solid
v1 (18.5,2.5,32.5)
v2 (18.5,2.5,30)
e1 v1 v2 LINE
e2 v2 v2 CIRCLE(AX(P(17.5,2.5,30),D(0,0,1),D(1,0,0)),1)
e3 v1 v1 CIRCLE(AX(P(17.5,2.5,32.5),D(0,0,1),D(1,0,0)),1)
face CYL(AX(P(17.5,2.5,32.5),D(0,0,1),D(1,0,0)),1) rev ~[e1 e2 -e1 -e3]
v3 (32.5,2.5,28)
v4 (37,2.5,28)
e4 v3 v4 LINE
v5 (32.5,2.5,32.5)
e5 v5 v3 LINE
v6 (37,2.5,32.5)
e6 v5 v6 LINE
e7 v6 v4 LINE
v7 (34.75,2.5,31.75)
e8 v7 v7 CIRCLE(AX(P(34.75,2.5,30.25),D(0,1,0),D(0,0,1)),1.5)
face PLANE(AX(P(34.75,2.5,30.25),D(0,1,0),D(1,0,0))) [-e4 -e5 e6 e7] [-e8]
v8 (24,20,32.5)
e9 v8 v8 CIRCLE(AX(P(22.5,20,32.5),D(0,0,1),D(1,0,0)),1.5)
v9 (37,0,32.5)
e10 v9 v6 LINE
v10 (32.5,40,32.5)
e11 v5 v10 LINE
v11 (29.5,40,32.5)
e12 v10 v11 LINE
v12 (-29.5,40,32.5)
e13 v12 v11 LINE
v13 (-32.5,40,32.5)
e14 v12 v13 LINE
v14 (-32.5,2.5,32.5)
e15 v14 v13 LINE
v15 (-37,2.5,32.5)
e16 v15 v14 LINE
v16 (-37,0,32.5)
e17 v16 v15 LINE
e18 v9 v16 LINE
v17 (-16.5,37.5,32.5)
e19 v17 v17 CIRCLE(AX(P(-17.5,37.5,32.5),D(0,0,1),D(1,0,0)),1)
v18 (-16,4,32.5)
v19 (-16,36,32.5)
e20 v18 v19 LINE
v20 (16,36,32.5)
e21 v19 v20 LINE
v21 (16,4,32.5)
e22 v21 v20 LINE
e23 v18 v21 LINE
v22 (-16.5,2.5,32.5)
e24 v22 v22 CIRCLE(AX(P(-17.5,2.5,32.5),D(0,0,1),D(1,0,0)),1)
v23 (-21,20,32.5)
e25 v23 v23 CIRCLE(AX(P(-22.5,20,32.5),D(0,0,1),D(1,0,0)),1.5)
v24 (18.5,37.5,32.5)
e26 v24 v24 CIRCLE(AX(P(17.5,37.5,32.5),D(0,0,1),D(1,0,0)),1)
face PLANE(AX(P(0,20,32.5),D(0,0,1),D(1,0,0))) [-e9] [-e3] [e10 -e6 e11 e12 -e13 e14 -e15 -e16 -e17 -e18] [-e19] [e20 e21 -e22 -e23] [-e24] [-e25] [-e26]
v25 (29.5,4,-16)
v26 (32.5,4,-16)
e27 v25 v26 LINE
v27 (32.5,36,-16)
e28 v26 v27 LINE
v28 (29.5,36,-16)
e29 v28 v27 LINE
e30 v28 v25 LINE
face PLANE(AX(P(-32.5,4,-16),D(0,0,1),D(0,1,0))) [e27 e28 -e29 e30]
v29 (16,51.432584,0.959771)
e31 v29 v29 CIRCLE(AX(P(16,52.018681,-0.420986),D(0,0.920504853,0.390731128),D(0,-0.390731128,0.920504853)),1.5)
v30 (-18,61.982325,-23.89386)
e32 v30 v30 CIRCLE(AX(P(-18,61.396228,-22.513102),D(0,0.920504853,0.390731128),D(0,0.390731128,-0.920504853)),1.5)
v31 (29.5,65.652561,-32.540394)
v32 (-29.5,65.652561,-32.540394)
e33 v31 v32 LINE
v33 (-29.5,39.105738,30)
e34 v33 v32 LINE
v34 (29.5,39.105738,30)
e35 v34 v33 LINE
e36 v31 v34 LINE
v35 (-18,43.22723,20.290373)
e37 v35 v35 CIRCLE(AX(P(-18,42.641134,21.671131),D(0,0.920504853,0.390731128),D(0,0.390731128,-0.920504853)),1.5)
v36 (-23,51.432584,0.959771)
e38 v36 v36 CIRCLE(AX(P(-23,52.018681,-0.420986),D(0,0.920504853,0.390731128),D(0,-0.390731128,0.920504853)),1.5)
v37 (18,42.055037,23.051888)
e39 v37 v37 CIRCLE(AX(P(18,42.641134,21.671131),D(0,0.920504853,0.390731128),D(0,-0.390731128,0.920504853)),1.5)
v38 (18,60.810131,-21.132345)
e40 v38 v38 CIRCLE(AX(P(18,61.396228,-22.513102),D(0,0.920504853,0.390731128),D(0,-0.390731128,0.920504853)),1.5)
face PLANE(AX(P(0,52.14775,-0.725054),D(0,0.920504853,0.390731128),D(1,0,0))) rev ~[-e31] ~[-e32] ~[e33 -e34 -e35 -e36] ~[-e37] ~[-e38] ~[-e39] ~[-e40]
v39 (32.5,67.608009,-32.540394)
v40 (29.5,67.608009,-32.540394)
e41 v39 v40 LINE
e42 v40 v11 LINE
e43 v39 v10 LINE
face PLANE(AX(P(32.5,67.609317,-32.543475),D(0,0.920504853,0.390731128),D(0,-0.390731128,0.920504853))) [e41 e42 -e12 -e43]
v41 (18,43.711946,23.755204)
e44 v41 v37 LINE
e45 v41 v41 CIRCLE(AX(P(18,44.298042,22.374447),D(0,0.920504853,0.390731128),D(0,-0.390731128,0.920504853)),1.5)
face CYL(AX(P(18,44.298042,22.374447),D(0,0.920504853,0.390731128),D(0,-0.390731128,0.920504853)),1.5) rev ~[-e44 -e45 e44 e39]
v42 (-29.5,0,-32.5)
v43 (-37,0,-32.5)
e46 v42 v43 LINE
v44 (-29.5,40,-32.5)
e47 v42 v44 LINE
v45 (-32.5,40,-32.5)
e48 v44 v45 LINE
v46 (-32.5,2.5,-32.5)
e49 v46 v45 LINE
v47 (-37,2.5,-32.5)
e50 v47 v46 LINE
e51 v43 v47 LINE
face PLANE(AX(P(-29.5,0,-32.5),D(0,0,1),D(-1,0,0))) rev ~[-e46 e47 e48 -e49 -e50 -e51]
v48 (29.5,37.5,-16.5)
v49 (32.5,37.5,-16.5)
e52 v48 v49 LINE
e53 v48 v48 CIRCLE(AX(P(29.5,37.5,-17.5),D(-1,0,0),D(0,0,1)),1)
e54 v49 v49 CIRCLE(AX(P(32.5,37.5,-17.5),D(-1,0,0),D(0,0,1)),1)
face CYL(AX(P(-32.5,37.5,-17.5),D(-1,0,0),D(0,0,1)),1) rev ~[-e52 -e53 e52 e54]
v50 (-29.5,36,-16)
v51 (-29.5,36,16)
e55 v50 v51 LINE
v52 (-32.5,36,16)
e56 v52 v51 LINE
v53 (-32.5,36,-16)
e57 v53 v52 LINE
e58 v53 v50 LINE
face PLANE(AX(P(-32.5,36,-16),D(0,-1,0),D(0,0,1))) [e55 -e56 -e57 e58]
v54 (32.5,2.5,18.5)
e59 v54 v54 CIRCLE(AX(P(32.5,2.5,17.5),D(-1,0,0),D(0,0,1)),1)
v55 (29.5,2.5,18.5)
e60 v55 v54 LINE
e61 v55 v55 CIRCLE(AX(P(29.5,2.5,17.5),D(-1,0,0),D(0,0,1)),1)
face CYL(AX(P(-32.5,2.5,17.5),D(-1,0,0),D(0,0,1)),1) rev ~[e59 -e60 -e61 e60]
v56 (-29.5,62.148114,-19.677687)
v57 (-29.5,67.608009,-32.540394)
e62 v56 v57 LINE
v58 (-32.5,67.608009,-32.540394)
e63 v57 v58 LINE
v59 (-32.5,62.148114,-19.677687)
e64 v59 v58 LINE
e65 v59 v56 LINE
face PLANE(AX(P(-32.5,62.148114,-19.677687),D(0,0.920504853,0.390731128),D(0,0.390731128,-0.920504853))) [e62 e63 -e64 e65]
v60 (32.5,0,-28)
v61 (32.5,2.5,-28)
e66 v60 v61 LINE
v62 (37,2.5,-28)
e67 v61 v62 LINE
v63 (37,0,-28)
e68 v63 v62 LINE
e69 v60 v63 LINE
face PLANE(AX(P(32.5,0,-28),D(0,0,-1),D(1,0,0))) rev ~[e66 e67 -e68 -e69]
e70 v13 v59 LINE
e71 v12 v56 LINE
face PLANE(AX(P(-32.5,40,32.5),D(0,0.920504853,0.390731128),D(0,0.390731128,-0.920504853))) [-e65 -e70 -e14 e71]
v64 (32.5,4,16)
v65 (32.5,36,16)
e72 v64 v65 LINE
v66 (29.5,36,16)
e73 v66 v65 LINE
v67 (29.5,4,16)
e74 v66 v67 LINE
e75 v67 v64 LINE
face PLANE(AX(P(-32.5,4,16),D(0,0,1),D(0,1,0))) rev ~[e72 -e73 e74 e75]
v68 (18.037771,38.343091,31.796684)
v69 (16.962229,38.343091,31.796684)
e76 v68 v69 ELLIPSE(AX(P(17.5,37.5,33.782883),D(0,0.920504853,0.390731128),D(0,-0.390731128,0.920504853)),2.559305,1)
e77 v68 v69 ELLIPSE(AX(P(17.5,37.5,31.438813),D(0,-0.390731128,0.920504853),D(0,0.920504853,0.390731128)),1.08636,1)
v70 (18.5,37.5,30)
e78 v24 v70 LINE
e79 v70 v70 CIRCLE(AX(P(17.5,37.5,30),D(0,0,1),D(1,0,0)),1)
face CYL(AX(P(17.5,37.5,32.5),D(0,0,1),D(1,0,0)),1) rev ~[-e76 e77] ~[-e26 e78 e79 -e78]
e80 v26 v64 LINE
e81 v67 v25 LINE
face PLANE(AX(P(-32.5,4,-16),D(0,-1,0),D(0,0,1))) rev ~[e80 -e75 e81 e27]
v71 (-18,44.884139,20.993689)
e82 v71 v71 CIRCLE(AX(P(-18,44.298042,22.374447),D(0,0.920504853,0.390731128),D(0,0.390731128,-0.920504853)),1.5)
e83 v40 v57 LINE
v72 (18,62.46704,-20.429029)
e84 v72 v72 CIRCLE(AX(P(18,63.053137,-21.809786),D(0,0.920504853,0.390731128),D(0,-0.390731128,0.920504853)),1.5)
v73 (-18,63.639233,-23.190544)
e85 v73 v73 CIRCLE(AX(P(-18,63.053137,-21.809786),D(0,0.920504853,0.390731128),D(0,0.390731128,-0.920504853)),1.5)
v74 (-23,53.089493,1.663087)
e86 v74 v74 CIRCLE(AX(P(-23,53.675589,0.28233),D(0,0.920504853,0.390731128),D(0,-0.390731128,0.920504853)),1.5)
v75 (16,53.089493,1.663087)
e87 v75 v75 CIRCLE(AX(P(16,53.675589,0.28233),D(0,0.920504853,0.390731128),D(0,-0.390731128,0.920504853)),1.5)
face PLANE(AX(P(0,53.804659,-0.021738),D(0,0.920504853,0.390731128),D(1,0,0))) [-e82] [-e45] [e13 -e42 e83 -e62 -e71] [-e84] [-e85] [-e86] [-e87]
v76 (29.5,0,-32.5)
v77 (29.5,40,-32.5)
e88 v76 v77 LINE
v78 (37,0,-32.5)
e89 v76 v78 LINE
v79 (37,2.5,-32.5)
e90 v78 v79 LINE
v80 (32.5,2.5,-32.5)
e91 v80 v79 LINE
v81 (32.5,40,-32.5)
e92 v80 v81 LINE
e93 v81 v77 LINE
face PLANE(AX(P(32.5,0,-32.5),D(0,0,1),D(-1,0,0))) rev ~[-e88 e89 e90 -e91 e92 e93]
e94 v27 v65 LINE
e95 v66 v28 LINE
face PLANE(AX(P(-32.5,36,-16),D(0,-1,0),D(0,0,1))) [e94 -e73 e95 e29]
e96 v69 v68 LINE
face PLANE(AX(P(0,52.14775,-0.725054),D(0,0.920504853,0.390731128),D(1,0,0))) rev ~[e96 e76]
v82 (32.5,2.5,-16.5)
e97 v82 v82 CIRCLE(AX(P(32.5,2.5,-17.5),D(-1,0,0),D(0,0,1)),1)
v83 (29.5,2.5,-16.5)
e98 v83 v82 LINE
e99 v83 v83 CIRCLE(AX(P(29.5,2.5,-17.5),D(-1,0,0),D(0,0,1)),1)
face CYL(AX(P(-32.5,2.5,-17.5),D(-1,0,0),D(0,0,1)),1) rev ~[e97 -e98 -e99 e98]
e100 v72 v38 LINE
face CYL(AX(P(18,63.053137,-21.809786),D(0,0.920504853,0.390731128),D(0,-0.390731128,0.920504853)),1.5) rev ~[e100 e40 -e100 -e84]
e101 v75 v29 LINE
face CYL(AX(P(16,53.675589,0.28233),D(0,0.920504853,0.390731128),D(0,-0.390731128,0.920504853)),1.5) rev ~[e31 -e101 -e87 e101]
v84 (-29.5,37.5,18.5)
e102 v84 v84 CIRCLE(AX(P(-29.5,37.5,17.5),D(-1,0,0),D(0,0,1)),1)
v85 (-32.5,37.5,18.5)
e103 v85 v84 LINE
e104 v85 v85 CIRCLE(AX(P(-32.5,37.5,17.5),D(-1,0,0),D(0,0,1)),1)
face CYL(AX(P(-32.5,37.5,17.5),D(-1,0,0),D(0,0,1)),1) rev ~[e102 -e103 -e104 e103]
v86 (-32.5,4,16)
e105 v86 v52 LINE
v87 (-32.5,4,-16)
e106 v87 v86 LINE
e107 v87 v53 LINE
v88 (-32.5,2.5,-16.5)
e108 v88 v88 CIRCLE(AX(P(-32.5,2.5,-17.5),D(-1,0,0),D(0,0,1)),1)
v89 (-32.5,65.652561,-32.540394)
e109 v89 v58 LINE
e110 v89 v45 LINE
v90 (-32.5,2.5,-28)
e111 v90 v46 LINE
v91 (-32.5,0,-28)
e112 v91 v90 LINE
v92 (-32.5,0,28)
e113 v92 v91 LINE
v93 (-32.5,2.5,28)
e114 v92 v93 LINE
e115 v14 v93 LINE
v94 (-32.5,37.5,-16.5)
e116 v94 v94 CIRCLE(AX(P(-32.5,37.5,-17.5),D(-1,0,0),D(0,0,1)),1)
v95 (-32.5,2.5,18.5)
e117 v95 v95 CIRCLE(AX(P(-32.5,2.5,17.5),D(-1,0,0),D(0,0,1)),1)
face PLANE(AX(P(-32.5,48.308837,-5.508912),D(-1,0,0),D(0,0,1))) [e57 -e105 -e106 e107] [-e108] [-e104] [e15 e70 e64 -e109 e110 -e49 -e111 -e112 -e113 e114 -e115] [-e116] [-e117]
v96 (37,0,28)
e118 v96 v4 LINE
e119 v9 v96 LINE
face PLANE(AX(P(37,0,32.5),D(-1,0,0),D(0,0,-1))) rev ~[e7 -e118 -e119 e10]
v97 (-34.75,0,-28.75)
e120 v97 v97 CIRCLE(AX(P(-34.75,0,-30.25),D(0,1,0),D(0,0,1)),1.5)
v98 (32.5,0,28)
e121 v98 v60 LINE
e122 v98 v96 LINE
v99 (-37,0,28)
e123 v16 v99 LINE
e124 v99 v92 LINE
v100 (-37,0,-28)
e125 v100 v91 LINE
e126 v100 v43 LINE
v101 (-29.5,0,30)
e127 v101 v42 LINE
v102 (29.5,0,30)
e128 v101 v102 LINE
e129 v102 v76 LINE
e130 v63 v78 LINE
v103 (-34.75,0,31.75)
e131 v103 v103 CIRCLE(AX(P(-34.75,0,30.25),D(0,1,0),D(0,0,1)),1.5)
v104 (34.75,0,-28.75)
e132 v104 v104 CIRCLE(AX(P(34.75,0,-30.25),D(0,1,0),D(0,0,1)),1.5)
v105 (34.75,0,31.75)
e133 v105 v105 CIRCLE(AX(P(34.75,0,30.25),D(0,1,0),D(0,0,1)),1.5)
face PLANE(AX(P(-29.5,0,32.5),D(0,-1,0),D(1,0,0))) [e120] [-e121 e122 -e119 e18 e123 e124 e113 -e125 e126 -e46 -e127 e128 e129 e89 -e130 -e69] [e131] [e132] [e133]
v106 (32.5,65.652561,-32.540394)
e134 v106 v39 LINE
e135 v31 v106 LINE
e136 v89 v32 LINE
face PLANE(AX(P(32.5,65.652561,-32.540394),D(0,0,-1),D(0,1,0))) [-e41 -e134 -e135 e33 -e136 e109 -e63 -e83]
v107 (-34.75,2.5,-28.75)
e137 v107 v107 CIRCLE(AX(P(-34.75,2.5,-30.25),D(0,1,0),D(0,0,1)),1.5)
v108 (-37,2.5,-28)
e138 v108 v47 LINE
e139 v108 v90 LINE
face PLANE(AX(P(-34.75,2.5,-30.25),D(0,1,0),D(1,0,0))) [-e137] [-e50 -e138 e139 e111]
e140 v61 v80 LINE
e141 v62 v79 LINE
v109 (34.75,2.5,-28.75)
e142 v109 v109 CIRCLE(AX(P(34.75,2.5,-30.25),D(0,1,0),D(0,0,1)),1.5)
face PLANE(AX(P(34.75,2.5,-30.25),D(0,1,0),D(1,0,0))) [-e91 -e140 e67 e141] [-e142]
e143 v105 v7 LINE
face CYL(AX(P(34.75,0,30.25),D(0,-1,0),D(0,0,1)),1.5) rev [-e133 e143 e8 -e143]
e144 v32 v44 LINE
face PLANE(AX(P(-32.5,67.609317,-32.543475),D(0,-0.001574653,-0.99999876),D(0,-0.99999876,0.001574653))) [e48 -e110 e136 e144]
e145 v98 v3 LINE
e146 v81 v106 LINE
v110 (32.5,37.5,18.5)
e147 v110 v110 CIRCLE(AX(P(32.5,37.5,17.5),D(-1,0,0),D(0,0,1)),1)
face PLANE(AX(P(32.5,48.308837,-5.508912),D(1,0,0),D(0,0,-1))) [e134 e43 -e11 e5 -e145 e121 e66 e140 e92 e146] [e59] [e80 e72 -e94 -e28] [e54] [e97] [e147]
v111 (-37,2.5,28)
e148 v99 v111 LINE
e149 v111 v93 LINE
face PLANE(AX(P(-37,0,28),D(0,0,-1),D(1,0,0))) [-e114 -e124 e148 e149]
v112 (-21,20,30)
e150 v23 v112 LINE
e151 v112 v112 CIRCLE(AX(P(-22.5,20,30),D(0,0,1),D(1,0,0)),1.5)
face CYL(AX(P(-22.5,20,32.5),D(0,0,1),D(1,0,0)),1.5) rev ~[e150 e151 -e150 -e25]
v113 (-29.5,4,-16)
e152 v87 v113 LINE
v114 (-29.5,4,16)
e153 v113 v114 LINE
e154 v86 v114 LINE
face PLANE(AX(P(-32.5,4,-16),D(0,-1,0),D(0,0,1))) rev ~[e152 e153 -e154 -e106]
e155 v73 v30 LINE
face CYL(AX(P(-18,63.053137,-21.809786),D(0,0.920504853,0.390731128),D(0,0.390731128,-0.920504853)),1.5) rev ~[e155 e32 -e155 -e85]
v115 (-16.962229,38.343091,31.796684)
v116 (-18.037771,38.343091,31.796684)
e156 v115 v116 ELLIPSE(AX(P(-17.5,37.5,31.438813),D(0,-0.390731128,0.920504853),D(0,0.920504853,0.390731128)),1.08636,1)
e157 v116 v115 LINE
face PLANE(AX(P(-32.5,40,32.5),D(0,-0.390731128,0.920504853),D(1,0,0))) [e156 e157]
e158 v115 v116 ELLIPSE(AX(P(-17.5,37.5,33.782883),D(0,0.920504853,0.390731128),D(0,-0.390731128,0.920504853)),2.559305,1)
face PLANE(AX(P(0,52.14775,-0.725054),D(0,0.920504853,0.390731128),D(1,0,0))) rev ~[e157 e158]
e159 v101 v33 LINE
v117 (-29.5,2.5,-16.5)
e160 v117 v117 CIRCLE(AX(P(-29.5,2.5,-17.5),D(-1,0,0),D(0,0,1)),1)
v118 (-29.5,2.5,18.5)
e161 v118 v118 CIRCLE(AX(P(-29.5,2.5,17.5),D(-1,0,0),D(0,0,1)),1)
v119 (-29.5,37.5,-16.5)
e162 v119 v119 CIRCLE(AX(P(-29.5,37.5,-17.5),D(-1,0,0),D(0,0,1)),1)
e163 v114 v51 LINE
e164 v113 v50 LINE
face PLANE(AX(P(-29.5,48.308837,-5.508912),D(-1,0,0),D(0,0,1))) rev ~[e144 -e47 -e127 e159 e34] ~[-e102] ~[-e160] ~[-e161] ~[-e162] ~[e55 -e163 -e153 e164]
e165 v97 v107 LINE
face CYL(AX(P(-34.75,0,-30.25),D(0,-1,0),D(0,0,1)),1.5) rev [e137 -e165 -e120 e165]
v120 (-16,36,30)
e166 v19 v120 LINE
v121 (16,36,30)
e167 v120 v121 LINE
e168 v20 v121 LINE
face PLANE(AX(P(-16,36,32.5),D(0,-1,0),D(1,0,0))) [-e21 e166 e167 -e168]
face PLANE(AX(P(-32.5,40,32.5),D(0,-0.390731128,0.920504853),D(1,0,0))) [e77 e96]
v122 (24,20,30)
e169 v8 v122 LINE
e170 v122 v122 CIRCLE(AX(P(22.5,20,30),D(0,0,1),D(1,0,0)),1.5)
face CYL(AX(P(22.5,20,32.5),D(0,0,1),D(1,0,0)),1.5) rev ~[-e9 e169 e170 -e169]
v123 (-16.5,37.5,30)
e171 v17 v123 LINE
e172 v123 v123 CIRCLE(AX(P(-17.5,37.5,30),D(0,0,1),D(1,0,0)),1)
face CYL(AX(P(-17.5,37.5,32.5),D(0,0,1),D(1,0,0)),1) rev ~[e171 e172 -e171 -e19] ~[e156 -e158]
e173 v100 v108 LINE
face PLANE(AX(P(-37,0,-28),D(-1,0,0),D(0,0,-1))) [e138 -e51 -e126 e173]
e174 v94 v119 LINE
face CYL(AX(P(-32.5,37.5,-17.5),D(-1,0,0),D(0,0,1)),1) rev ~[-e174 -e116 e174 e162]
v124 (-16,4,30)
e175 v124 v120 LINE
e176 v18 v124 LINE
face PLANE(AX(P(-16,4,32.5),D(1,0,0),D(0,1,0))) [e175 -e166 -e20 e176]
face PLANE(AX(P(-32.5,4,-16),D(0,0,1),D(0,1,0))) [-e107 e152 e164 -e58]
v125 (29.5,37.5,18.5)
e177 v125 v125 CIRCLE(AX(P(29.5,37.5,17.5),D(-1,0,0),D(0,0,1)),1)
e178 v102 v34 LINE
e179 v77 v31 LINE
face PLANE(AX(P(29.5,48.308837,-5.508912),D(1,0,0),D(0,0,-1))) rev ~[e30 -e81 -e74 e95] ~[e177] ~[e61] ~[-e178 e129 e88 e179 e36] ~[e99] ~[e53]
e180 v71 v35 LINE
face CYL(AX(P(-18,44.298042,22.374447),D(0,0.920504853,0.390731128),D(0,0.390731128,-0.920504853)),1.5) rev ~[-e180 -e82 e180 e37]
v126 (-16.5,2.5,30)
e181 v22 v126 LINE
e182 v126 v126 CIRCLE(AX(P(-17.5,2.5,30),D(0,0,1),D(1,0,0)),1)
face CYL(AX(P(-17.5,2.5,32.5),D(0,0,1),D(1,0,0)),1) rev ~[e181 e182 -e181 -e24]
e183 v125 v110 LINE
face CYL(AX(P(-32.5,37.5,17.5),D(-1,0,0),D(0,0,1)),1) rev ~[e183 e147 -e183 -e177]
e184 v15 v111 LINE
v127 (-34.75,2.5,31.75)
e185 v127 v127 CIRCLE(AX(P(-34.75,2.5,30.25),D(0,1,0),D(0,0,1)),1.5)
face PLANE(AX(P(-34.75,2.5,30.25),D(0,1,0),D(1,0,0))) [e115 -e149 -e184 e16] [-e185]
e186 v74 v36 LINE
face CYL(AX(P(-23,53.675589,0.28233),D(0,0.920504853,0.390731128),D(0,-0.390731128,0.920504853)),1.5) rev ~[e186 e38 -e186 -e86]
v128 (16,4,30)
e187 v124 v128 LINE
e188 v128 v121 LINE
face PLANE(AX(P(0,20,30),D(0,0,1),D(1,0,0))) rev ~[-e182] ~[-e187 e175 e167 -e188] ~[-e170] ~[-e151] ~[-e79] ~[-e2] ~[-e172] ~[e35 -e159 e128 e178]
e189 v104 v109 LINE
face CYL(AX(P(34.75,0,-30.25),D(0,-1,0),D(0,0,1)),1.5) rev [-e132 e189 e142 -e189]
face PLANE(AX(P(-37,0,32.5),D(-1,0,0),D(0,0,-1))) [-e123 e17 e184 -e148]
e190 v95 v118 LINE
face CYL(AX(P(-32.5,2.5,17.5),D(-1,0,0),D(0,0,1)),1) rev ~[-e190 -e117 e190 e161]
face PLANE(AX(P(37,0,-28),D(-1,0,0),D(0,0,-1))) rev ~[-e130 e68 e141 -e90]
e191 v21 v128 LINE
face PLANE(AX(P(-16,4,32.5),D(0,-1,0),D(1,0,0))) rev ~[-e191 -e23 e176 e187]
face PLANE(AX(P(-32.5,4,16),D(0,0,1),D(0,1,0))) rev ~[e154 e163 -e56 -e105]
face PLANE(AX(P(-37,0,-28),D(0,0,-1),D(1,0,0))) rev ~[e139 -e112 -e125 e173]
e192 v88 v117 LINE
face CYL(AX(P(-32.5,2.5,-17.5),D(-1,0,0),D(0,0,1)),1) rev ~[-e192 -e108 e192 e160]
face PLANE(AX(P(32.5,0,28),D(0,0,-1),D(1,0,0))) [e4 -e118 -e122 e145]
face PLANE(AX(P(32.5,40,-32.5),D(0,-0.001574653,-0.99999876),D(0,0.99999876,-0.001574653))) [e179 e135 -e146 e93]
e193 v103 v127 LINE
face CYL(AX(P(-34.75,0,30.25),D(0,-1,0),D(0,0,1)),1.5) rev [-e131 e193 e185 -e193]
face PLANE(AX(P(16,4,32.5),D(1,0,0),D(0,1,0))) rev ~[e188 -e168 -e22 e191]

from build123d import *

# Parameters (mm, degrees)
SKETCH_1_W          = 4.5
SKETCH_1_H          = 4.5
SKETCH_1_R          = 1.5
EXTRUDE_1_DEPTH     = 2.5
EXTRUDE_1_2_DEPTH   = 2.5
EXTRUDE_1_3_DEPTH   = 2.5
EXTRUDE_1_4_DEPTH   = 2.5
SKETCH_2_W          = 3
SKETCH_2_H          = 65
EXTRUDE_2_DEPTH     = 40
SKETCH_3_W          = 59
SKETCH_3_H          = 40
SKETCH_3_R          = 1
SKETCH_3_R_2        = 1.5
SKETCH_3_W_2        = 32
SKETCH_3_H_2        = 32
EXTRUDE_4_DEPTH     = 2.5
EXTRUDE_5_DEPTH     = 3
EXTRUDE_6_DEPTH     = 3
SKETCH_9_W          = 65
SKETCH_9_H          = 70.660654221
EXTRUDE_8_DEPTH     = 1.8
SKETCH_12_R         = 1
SKETCH_12_W         = 32
SKETCH_12_H         = 32
CUT_EXTRUDE_2_DEPTH = 65
CUT_EXTRUDE_6_DEPTH = 65
SKETCH_14_R         = 1.5
CUT_EXTRUDE_8_DEPTH = 1.8


with BuildPart() as part:
    # 草图1 → 凸台-拉伸1 (new body)
    with BuildSketch(Plane(origin=(0, 0, 0), x_dir=(1, 0, 0), z_dir=(0, 1, 0))):
        with Locations((-34.75, -30.25)):
            Rectangle(SKETCH_1_W, SKETCH_1_H)
        with Locations(Location((-34.75, -30.25, 0), (0, 0, 270))):
            Circle(SKETCH_1_R, mode=Mode.SUBTRACT)
    extrude(amount=EXTRUDE_1_DEPTH)



with BuildPart() as body_2:
    # 草图1 → Extrude 1 2 (new body)
    with BuildSketch(Plane(origin=(0, 0, 0), x_dir=(1, 0, 0), z_dir=(0, 1, 0))):
        with Locations((34.75, -30.25)):
            Rectangle(SKETCH_1_W, SKETCH_1_H)
        with Locations(Location((34.75, -30.25, 0), (0, 0, 270))):
            Circle(SKETCH_1_R, mode=Mode.SUBTRACT)
    extrude(amount=EXTRUDE_1_2_DEPTH)


with BuildPart() as body_3:
    # 草图1 → Extrude 1 3 (new body)
    with BuildSketch(Plane(origin=(0, 0, 0), x_dir=(1, 0, 0), z_dir=(0, 1, 0))):
        with Locations((34.75, 30.25)):
            Rectangle(SKETCH_1_W, SKETCH_1_H)
        with Locations(Location((34.75, 30.25, 0), (0, 0, 270))):
            Circle(SKETCH_1_R, mode=Mode.SUBTRACT)
    extrude(amount=EXTRUDE_1_3_DEPTH)


with BuildPart() as body_4:
    # 草图1 → Extrude 1 4 (new body)
    with BuildSketch(Plane(origin=(0, 0, 0), x_dir=(1, 0, 0), z_dir=(0, 1, 0))):
        with Locations((-34.75, 30.25)):
            Rectangle(SKETCH_1_W, SKETCH_1_H)
        with Locations(Location((-34.75, 30.25, 0), (0, 0, 270))):
            Circle(SKETCH_1_R, mode=Mode.SUBTRACT)
    extrude(amount=EXTRUDE_1_4_DEPTH)


with BuildPart() as part_1:
    add(part.part)

    add(body_2.part)  # 凸台-拉伸2 merges body 2

    add(body_3.part)  # 凸台-拉伸2 merges body 3

    add(body_4.part)  # 凸台-拉伸2 merges body 4
    # 草图2 → 凸台-拉伸2 (add)
    with BuildSketch(Plane(origin=(0, 0, 0), x_dir=(-1, 0, 0), z_dir=(0, -1, 0))):
        with Locations((31, 0)):
            Rectangle(SKETCH_2_W, SKETCH_2_H)
        with Locations((-31, 0)):
            Rectangle(SKETCH_2_W, SKETCH_2_H)
    extrude(amount=-EXTRUDE_2_DEPTH)

    # 草图5 → 凸台-拉伸5 (add)
    with BuildSketch(Plane.ZY.offset(32.5)):
        Polygon((32.5, 40), (-19.677687078, 62.148114133), (-32.543475158, 67.609317163), (-32.5, 40), align=None)
    extrude(amount=-EXTRUDE_5_DEPTH)

    # 草图8 → 凸台-拉伸6 (add)
    with BuildSketch(Plane(origin=(32.5, 0, 0), x_dir=(0, 0, -1), z_dir=(1, 0, 0))):
        Polygon((-32.5, 40), (32.5, 40), (32.543475158, 67.609317163), align=None)
    extrude(amount=-EXTRUDE_6_DEPTH)



with BuildPart() as body_2_2:
    # 草图3 → 凸台-拉伸4 (new body)
    with BuildSketch(Plane.XY.offset(32.5)):
        with Locations((0, 20)):
            Rectangle(SKETCH_3_W, SKETCH_3_H)
        with Locations((-17.5, 37.5)):
            Circle(SKETCH_3_R, mode=Mode.SUBTRACT)
        with Locations((17.5, 37.5)):
            Circle(SKETCH_3_R, mode=Mode.SUBTRACT)
        with Locations((17.5, 2.5)):
            Circle(SKETCH_3_R, mode=Mode.SUBTRACT)
        with Locations((-17.5, 2.5)):
            Circle(SKETCH_3_R, mode=Mode.SUBTRACT)
        with Locations((-22.5, 20)):
            Circle(SKETCH_3_R_2, mode=Mode.SUBTRACT)
        with Locations((22.5, 20)):
            Circle(SKETCH_3_R_2, mode=Mode.SUBTRACT)
        with Locations((0, 20)):
            Rectangle(SKETCH_3_W_2, SKETCH_3_H_2, mode=Mode.SUBTRACT)
    extrude(amount=-EXTRUDE_4_DEPTH)


with BuildPart() as part_2:
    add(part_1.part)

    add(body_2_2.part)  # 凸台-拉伸8 merges body 2 2
    # 草图9 → 凸台-拉伸8 (add)
    with BuildSketch(Plane(origin=(0, 45.582439165, 19.348597487), x_dir=(1, 0, 0), z_dir=(0, 0.9205048534524402, 0.3907311284892746))):
        with Locations((0, 21.043164513)):
            Rectangle(SKETCH_9_W, SKETCH_9_H)
    extrude(amount=-EXTRUDE_8_DEPTH)

    # 草图12 → 切除-拉伸2 (cut)
    with BuildSketch(Plane.ZY.offset(32.5)):
        with Locations((-17.5, 37.5)):
            Circle(SKETCH_12_R)
        with Locations((17.5, 37.5)):
            Circle(SKETCH_12_R)
        with Locations((17.5, 2.5)):
            Circle(SKETCH_12_R)
        with Locations((-17.5, 2.5)):
            Circle(SKETCH_12_R)
        with Locations((0, 20)):
            Rectangle(SKETCH_12_W, SKETCH_12_H)
    extrude(amount=-CUT_EXTRUDE_2_DEPTH, mode=Mode.SUBTRACT)

    # 草图13 → 切除-拉伸6 (cut)
    with BuildSketch(Plane(origin=(32.5, 0, 0), x_dir=(0, 0, -1), z_dir=(1, 0, 0))):
        Polygon((32.540393941, 65.652560585), (32.540393941, 67.608009264), (33.246791189, 65.952408427), align=None)
    extrude(amount=-CUT_EXTRUDE_6_DEPTH, mode=Mode.SUBTRACT)


with BuildPart() as body_2_3:
    # of the pieces the cut leaves, the one that is kept (cut_extrude_6_keep)
    add(part_2.part.solids().sort_by_distance((37, 0, -32.5))[0])

    # 草图14 → 切除-拉伸8 (cut)
    with BuildSketch(Plane(origin=(0, 45.582439165, 19.348597487), x_dir=(1, 0, 0), z_dir=(0, 0.92050485345244, 0.39073112848927466))):
        with Locations(Location((18, -3.287162598, 0), (0, 0, 270))):
            Circle(SKETCH_14_R)
        with Locations(Location((16, 20.712837402, 0), (0, 0, 270))):
            Circle(SKETCH_14_R)
        with Locations(Location((18, 44.712837402, 0), (0, 0, 270))):
            Circle(SKETCH_14_R)
        with Locations(Location((-18, -3.287162598, 0), (0, 0, 90))):
            Circle(SKETCH_14_R)
        with Locations(Location((-18, 44.712837402, 0), (0, 0, 90))):
            Circle(SKETCH_14_R)
        with Locations(Location((-23, 20.712837402, 0), (0, 0, 270))):
            Circle(SKETCH_14_R)
    extrude(amount=-CUT_EXTRUDE_8_DEPTH, mode=Mode.SUBTRACT)


solid = body_2_3.part
